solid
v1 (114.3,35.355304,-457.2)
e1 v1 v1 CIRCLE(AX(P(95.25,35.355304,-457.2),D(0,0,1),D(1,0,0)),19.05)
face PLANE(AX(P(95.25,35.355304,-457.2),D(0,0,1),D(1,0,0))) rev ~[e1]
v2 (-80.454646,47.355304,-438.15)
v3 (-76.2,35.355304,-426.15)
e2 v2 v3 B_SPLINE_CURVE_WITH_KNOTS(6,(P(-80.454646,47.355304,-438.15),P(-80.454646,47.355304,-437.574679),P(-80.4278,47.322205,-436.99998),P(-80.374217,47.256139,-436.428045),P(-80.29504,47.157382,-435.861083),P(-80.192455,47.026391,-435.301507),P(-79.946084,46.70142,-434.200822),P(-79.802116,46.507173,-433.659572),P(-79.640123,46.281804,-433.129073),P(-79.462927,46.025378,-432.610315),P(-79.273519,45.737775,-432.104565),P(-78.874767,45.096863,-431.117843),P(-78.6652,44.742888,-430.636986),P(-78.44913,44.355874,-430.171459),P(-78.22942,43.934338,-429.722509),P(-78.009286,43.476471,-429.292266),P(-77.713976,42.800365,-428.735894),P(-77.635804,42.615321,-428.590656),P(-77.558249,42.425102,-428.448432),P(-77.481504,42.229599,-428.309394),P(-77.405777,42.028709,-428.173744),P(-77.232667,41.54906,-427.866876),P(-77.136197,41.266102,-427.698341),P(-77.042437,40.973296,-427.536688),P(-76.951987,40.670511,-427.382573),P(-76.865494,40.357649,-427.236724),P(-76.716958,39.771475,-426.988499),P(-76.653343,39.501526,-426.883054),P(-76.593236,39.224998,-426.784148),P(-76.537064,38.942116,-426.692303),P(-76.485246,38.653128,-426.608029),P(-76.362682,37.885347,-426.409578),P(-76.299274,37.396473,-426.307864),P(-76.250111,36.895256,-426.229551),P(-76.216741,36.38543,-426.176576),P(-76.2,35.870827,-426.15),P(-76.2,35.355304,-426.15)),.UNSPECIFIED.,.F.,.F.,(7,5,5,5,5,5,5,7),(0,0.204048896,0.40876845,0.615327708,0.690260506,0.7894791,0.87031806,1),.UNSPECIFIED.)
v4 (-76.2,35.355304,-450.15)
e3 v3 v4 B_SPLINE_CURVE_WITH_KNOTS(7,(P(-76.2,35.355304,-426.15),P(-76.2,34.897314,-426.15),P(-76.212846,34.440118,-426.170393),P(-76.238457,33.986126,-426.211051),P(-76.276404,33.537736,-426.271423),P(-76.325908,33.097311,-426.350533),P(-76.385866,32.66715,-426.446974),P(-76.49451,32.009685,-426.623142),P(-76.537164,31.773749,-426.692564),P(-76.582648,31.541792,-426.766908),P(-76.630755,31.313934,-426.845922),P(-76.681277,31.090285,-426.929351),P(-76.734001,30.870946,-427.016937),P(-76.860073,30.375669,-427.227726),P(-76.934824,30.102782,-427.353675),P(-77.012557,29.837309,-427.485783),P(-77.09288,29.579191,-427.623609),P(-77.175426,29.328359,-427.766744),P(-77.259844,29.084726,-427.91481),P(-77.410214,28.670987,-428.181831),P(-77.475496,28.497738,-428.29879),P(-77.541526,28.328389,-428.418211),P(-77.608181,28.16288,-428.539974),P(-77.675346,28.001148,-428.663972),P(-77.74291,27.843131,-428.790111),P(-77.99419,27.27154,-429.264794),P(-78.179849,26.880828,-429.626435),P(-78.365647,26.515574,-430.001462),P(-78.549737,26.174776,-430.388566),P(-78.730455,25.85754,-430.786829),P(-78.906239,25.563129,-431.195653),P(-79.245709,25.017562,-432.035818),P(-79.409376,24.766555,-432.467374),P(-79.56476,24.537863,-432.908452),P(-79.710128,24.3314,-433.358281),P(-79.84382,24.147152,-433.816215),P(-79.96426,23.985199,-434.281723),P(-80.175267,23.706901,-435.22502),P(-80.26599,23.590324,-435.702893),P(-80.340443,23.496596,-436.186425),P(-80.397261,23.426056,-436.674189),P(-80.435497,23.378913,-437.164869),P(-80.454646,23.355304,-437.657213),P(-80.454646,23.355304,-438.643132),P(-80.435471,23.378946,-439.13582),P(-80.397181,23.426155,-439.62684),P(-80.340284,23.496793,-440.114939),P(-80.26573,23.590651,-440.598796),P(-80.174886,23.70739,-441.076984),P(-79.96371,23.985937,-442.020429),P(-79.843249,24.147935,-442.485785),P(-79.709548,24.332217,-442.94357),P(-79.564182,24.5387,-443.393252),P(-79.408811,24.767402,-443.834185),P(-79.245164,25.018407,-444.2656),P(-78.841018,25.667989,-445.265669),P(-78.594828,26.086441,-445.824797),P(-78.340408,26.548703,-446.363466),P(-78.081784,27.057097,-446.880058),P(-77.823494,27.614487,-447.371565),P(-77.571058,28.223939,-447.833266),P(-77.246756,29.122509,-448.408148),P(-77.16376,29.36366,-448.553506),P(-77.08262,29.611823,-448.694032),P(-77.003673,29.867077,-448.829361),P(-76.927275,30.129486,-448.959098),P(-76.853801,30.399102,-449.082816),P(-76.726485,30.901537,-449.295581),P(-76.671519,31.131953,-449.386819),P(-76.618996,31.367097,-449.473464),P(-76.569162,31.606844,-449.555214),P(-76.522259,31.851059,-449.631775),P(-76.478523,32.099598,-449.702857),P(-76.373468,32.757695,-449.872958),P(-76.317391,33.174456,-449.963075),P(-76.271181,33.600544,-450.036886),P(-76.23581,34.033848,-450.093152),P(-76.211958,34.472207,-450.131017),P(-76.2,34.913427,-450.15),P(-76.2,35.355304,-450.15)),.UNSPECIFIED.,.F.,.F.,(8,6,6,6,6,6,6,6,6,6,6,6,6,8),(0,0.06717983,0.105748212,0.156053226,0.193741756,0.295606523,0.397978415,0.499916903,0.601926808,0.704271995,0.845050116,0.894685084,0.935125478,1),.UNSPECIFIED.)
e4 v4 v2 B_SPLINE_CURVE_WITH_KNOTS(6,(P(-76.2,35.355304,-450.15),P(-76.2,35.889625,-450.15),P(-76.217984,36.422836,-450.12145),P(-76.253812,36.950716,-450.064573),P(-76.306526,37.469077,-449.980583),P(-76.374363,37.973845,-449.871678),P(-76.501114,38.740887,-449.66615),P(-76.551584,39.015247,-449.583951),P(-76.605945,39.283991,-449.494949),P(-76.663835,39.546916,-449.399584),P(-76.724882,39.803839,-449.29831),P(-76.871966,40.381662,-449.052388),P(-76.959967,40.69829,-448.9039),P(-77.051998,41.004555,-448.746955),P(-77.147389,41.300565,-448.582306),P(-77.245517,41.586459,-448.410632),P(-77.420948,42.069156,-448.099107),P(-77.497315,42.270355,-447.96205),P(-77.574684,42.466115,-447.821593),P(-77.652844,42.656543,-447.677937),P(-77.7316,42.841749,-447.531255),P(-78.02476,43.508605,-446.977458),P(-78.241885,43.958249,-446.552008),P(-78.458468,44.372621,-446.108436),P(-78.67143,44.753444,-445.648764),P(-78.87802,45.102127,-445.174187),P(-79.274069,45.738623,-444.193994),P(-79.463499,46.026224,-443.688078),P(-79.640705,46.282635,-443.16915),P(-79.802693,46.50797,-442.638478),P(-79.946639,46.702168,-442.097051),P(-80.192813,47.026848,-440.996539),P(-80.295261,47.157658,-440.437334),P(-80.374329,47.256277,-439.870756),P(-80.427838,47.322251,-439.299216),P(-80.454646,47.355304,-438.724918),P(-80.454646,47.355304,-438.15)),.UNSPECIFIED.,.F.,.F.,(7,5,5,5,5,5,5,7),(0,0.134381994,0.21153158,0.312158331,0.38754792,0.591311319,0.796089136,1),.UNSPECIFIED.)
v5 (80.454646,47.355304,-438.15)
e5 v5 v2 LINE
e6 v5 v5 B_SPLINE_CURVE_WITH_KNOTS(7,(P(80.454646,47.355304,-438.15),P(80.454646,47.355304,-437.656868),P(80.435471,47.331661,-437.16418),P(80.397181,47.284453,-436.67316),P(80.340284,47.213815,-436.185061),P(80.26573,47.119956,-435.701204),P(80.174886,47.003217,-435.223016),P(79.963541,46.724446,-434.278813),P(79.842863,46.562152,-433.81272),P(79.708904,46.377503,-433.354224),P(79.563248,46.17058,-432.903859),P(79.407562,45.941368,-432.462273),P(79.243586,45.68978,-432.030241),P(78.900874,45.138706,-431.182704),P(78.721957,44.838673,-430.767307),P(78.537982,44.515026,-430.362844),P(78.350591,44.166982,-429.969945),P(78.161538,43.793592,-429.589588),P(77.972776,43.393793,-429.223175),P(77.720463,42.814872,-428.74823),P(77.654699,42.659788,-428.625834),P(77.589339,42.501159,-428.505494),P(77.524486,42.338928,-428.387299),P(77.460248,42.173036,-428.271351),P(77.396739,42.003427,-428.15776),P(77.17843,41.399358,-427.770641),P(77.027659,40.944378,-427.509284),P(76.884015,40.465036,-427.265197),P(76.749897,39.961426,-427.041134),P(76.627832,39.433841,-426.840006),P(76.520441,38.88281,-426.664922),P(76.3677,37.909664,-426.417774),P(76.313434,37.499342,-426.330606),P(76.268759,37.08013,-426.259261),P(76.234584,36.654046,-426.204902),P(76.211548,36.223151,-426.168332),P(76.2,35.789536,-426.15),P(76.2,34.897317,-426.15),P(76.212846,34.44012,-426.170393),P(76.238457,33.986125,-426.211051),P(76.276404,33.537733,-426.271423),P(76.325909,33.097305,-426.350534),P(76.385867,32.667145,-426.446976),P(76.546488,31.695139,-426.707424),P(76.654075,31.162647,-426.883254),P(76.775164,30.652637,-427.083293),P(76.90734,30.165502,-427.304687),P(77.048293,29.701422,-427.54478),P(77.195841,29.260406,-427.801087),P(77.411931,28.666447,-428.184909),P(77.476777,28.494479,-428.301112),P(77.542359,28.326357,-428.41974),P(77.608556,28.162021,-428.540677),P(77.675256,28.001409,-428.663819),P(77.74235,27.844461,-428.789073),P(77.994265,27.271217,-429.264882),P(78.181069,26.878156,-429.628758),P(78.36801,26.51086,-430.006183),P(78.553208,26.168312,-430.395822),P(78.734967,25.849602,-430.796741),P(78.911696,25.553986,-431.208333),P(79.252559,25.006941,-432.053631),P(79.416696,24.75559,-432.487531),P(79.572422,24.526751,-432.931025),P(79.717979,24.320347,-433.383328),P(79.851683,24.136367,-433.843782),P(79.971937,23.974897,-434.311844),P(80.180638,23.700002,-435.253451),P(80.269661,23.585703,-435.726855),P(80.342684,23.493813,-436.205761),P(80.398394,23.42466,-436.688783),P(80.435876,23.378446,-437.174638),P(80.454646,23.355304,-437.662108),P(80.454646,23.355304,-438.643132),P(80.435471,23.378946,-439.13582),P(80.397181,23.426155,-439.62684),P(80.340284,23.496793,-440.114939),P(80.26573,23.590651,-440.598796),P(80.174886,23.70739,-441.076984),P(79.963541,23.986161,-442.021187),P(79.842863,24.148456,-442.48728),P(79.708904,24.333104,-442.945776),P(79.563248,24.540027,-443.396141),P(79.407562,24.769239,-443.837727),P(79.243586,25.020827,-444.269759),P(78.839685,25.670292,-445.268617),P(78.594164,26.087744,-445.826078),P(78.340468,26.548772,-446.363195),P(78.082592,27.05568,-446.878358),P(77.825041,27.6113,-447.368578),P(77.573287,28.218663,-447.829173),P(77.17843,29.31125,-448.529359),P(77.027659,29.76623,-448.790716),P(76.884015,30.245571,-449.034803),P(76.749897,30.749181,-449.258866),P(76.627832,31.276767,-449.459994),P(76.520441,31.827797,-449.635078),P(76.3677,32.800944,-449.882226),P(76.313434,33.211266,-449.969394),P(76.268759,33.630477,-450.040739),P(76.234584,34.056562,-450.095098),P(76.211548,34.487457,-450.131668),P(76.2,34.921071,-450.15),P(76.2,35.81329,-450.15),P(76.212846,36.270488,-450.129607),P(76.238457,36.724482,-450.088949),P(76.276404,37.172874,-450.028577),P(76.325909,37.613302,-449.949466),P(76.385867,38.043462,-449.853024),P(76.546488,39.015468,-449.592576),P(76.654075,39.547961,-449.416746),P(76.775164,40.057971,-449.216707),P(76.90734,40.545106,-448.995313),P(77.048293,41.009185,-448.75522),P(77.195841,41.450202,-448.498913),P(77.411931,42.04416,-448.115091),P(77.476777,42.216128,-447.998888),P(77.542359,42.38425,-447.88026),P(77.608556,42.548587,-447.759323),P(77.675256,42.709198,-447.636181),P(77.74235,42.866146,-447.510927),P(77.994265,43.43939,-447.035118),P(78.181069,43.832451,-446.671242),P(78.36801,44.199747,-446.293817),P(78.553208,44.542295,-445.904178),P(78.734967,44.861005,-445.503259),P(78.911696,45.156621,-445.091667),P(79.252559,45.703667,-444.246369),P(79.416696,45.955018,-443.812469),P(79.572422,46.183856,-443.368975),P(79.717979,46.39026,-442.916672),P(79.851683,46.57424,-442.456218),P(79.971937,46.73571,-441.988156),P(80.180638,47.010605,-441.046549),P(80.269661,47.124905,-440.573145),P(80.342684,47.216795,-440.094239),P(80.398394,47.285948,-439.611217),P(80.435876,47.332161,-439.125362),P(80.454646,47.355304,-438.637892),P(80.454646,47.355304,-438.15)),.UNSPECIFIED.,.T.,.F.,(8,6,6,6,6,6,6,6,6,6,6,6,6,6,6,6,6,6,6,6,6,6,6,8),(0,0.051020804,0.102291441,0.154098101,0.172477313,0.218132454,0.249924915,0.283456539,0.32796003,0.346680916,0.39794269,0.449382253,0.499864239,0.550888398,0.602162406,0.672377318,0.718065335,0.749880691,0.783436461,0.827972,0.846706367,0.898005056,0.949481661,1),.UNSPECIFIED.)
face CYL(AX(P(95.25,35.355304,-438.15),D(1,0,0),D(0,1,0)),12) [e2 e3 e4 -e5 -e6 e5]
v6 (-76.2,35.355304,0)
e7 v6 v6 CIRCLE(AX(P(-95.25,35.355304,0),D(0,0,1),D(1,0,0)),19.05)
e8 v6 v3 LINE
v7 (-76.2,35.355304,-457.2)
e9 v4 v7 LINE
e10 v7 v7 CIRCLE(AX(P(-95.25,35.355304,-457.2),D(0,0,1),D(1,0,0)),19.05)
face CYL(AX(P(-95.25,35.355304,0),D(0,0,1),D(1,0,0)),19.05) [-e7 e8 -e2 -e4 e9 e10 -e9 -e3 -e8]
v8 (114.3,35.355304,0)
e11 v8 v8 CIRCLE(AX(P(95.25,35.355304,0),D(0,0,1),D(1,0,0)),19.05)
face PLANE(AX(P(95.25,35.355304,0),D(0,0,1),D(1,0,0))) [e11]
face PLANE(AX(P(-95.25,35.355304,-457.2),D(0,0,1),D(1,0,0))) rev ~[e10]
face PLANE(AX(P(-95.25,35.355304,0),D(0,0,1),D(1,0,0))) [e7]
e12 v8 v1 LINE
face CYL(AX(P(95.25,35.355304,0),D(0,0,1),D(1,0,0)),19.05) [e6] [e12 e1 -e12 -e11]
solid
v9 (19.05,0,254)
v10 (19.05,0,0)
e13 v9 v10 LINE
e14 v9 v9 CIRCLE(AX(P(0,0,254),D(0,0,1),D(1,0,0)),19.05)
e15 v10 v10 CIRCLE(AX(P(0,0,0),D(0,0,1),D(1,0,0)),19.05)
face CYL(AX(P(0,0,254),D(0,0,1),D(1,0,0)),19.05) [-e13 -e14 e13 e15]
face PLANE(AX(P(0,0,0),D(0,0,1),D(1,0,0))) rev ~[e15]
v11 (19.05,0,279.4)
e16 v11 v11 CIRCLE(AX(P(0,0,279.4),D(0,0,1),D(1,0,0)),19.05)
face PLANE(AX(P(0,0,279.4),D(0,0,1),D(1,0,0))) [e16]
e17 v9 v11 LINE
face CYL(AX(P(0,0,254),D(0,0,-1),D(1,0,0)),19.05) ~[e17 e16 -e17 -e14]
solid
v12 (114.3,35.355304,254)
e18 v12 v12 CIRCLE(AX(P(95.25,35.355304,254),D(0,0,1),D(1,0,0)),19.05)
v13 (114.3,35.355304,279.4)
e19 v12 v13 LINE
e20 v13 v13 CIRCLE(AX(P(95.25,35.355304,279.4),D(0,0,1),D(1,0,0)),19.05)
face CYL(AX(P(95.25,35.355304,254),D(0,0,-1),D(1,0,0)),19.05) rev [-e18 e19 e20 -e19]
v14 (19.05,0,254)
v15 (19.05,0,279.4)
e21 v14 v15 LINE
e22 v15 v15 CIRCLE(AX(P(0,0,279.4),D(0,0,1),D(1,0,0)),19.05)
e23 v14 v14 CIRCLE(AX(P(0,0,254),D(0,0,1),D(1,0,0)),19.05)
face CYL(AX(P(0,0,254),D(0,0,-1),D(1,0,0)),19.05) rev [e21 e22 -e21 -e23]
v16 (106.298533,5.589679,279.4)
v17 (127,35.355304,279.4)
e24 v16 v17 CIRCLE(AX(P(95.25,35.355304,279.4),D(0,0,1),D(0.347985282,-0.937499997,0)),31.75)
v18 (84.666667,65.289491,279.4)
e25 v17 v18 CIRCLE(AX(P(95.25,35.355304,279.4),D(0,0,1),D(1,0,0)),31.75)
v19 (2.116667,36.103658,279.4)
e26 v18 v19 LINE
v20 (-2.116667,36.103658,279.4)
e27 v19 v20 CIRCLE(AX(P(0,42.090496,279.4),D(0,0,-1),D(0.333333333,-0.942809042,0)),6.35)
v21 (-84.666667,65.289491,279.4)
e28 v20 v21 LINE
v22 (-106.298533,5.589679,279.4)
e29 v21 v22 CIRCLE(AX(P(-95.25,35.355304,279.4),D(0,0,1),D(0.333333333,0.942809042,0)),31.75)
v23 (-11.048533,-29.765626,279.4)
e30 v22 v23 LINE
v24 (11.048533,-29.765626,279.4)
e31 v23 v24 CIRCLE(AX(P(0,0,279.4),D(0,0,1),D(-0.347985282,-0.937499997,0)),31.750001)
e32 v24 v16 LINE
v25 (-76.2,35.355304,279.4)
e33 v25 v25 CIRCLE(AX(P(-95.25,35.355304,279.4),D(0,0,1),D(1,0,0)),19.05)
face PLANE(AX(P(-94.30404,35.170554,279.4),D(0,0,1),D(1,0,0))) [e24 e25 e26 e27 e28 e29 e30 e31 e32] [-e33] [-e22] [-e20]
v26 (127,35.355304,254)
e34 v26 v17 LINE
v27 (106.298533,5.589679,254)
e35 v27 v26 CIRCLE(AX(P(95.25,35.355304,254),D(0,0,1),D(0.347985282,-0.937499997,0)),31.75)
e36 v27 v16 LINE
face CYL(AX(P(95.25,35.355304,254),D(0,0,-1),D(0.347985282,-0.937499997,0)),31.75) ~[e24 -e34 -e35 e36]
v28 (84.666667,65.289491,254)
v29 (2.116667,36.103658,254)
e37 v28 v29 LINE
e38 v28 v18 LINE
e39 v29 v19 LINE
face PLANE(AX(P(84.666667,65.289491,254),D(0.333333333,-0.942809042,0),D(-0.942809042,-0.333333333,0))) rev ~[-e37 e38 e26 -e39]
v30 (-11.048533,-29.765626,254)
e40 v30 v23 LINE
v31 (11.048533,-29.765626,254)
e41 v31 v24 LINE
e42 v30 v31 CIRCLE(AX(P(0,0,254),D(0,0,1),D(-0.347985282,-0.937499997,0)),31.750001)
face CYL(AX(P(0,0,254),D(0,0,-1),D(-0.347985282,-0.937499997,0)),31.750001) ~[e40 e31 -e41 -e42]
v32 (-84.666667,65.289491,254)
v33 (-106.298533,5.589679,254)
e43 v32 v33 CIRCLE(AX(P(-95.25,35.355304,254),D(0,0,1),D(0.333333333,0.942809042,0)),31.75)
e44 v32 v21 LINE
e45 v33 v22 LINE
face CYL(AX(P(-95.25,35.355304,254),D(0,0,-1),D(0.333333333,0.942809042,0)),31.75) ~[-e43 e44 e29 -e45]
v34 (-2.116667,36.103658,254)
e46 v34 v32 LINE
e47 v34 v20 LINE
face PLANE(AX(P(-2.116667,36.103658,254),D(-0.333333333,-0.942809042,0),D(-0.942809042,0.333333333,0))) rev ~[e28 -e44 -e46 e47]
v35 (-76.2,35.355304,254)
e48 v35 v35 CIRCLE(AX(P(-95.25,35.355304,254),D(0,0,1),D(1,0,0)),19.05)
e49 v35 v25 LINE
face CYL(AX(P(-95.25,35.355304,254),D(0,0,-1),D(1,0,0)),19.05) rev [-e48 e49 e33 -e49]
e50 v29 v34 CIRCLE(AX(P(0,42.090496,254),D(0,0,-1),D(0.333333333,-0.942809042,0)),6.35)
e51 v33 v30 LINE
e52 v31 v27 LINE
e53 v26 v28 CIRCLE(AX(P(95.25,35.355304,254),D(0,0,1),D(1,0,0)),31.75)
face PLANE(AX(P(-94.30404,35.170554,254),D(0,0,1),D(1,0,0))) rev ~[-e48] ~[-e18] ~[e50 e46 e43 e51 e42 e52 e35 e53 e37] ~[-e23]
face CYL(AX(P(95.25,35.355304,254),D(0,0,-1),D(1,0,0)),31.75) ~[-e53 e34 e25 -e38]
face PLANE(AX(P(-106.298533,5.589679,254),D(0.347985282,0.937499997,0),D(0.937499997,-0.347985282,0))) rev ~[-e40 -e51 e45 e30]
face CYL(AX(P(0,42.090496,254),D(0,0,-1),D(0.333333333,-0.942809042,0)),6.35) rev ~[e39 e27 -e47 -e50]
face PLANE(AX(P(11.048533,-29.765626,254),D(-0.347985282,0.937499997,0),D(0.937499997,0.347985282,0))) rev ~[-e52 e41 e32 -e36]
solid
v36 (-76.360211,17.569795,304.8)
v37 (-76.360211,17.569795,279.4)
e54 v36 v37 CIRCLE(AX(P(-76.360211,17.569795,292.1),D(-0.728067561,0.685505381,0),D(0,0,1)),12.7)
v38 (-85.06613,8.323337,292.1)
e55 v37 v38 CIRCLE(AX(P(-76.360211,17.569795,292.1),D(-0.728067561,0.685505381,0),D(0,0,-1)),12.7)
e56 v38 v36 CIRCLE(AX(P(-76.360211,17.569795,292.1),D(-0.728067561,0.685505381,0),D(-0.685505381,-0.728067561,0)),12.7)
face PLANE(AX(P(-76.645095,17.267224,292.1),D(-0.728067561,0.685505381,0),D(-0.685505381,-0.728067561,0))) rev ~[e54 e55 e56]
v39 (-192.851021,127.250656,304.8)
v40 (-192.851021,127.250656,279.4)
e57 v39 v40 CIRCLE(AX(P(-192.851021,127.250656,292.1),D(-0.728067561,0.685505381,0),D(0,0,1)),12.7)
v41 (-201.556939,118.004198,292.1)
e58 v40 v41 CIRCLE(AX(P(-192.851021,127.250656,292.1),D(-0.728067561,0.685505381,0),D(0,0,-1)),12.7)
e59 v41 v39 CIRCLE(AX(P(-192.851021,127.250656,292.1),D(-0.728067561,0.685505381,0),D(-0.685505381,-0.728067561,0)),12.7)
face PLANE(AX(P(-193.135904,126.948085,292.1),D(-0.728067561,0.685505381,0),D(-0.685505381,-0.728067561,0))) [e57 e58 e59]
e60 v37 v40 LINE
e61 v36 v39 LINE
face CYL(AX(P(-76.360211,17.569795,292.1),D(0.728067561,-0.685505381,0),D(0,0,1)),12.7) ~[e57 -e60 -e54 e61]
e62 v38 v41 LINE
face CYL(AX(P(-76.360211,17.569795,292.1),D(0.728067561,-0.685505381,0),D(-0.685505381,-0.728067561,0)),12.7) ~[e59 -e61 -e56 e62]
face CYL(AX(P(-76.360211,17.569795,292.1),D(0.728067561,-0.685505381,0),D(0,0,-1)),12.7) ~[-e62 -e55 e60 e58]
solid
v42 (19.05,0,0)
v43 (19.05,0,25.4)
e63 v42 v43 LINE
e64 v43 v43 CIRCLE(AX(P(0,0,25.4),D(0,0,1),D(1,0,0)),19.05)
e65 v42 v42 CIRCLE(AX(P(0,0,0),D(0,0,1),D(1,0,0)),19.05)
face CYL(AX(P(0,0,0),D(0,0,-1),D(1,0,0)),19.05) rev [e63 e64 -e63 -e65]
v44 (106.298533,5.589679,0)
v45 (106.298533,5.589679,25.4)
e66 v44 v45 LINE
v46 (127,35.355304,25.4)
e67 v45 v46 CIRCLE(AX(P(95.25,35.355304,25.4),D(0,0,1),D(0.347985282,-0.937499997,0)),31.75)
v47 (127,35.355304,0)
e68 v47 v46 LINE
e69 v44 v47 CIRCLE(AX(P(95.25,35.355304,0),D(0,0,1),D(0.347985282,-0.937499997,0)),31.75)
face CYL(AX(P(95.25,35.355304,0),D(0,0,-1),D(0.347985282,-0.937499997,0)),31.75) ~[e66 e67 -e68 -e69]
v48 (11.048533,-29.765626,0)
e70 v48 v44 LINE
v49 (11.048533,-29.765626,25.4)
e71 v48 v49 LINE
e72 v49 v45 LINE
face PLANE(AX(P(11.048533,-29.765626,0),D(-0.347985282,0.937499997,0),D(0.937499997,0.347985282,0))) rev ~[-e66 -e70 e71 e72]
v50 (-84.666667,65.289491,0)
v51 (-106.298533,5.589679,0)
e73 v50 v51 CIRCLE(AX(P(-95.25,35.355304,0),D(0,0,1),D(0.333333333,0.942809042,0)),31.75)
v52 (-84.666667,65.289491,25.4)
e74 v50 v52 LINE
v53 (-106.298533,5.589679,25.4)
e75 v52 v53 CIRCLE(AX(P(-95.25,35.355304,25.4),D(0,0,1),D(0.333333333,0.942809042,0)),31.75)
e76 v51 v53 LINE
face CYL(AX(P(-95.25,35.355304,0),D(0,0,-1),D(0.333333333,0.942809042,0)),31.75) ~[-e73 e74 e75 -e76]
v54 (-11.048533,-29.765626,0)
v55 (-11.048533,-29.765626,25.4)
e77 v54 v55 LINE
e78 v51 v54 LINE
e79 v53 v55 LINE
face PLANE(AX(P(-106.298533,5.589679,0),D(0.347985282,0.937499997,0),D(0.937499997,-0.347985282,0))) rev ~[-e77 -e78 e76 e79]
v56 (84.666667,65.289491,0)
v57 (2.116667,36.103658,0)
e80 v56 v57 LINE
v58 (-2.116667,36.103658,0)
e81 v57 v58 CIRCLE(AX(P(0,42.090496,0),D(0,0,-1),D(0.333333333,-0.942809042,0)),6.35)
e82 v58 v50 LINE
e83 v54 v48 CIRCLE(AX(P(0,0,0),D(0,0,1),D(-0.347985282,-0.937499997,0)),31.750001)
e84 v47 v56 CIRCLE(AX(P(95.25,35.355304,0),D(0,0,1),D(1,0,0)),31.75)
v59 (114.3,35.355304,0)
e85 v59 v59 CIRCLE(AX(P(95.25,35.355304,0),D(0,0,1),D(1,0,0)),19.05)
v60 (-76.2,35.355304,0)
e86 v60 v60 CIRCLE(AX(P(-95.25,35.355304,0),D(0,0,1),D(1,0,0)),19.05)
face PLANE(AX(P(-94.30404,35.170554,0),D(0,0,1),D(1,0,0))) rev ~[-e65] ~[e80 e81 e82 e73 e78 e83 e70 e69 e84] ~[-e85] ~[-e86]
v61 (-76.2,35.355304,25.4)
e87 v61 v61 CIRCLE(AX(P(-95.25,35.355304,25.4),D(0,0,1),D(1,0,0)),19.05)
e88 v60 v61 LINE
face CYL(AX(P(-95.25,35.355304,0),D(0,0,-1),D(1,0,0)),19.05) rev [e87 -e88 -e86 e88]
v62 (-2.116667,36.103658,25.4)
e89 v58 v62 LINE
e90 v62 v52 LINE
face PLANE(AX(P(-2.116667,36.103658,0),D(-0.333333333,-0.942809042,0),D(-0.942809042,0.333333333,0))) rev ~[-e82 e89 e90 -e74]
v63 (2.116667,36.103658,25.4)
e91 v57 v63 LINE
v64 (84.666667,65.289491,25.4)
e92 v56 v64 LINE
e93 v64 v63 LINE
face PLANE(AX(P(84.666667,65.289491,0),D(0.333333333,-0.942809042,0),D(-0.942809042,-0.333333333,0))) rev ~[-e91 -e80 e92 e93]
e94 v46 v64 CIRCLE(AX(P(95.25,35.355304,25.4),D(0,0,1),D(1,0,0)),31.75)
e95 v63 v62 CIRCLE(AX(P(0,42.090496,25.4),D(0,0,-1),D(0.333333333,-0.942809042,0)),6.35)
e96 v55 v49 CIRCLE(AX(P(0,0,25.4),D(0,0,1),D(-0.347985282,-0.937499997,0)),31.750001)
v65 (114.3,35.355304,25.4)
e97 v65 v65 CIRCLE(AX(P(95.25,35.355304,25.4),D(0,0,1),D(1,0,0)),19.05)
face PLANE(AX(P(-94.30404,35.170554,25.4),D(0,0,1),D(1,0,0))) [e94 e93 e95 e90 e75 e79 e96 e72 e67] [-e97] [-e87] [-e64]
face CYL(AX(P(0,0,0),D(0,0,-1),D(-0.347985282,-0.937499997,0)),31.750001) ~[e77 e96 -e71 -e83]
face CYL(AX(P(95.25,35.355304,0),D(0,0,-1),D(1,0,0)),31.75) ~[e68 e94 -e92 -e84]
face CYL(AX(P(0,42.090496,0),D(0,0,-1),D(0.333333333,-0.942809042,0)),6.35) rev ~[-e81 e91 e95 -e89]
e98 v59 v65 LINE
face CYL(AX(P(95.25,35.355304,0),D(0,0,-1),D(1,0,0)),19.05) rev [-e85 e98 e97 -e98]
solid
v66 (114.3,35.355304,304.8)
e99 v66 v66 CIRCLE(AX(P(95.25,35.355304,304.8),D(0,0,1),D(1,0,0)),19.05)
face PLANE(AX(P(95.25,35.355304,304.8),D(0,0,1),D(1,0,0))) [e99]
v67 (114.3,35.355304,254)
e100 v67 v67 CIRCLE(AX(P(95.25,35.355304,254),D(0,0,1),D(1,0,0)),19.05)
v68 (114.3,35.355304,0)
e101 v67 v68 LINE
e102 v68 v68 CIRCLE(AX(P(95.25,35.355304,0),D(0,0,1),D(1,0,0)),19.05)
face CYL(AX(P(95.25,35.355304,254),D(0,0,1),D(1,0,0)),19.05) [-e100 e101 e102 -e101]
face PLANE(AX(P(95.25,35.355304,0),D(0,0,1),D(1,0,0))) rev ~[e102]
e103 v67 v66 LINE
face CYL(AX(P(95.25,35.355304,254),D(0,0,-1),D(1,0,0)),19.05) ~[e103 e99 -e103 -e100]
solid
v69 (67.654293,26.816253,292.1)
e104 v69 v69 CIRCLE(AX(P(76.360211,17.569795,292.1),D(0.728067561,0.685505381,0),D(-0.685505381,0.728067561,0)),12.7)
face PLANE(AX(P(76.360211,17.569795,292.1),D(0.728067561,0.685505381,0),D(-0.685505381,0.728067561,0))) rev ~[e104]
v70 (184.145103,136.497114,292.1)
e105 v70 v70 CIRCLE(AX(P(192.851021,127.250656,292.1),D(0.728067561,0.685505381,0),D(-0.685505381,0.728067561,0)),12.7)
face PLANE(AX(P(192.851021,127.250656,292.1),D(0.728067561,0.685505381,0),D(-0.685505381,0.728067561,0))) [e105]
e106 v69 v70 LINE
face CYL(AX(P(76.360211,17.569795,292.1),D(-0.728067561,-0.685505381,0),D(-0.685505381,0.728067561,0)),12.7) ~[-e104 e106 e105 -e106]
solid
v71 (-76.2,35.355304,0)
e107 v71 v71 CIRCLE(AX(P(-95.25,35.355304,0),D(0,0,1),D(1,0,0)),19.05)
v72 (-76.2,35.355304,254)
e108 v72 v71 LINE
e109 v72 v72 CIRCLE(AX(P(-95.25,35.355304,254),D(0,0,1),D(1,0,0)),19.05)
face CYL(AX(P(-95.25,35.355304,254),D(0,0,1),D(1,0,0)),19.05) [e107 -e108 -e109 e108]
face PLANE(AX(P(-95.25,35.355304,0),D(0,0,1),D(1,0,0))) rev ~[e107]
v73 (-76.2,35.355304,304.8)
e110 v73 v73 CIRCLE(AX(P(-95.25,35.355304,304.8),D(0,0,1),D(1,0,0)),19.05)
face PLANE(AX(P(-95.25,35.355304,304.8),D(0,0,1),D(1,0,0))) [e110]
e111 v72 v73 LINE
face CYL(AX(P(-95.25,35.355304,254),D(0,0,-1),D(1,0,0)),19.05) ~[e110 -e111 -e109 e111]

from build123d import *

# Parameters (mm, degrees)
F0_R          = 19.05
F3_DEPTH      = 25.4
F2_R          = 19.05
F4_DEPTH      = 25.4
F5_DEPTH      = 457.2
F6_DEPTH      = 254
F6_DEPTH_BACK = 50.8
F7_DEPTH      = 254
F7_DEPTH_BACK = 25.4
F11_R         = 12
F12_DEPTH     = 180
F18_R         = 12.7
F19_DEPTH     = 160
F21_DEPTH     = 160


with BuildPart() as f3:
    # F0 (on Top) → F3 (new body)
    with BuildSketch(Plane.XY):
        with BuildLine():
            ThreePointArc((-106.2985327043, 5.5896788142), (-77.121685315, 9.2894887986), (-63.5, 35.355303704))
            ThreePointArc((-63.5, 35.355303704), (-69.3262335555, 53.6861747507), (-84.6666666667, 65.2894907742))
            ThreePointArc((-84.6666666667, 65.2894907742), (-125.1008122106, 46.17156509), (-106.2985327043, 5.5896788142))
        make_face()
        with Locations((-95.25, 35.355303704)):
            Circle(F0_R, mode=Mode.SUBTRACT)
        with BuildLine():
            ThreePointArc((-84.6666666667, 65.2894907742), (-69.3262335555, 53.6861747507), (-63.5, 35.355303704))
            ThreePointArc((-63.5, 35.355303704), (-77.121685315, 9.2894887986), (-106.2985327043, 5.5896788142))
            Line((-106.2985327043, 5.5896788142), (-11.048533057, -29.7656258398))
            ThreePointArc((-11.048533057, -29.7656258398), (-18.1283152636, 26.0658157373), (31.7500010133, 0))
            ThreePointArc((31.7500010133, 0), (26.0658157373, -18.1283152636), (11.048533057, -29.7656258398))
            Line((11.048533057, -29.7656258398), (106.2985327043, 5.5896788142))
            ThreePointArc((106.2985327043, 5.5896788142), (65.3991877894, 24.539042318), (84.6666666667, 65.2894907742))
            Line((84.6666666667, 65.2894907742), (2.1166666667, 36.1036583807))
            ThreePointArc((2.1166666667, 36.1036583807), (0, 35.7404957948), (-2.1166666667, 36.1036583807))
            Line((-2.1166666667, 36.1036583807), (-84.6666666667, 65.2894907742))
        make_face()
        with BuildLine():
            ThreePointArc((31.7500010133, 0), (-18.1283152636, 26.0658157373), (-11.048533057, -29.7656258398))
            ThreePointArc((-11.048533057, -29.7656258398), (0, -31.7500010133), (11.048533057, -29.7656258398))
            ThreePointArc((11.048533057, -29.7656258398), (26.0658157373, -18.1283152636), (31.7500010133, 0))
        make_face()
        Circle(F0_R, mode=Mode.SUBTRACT)
        with BuildLine():
            ThreePointArc((127, 35.355303704), (113.5808710468, 61.2790701484), (84.6666666667, 65.2894907742))
            ThreePointArc((84.6666666667, 65.2894907742), (65.3991877894, 24.539042318), (106.2985327043, 5.5896788142))
            ThreePointArc((106.2985327043, 5.5896788142), (121.3158149054, 17.226989019), (127, 35.355303704))
        make_face()
        with Locations((95.25, 35.355303704)):
            Circle(F0_R, mode=Mode.SUBTRACT)
    extrude(amount=F3_DEPTH)


with BuildPart() as f4:
    # F2 (on offset) → F4 (new body)
    with BuildSketch(Plane.XY.offset(254)):
        with BuildLine():
            ThreePointArc((-106.2985327043, 5.5896788142), (-77.121685315, 9.2894887986), (-63.5, 35.355303704))
            ThreePointArc((-63.5, 35.355303704), (-69.3262335555, 53.6861747507), (-84.6666666667, 65.2894907742))
            ThreePointArc((-84.6666666667, 65.2894907742), (-125.1008122106, 46.17156509), (-106.2985327043, 5.5896788142))
        make_face()
        with Locations((-95.25, 35.355303704)):
            Circle(F2_R, mode=Mode.SUBTRACT)
        with BuildLine():
            ThreePointArc((-84.6666666667, 65.2894907742), (-69.3262335555, 53.6861747507), (-63.5, 35.355303704))
            ThreePointArc((-63.5, 35.355303704), (-77.121685315, 9.2894887986), (-106.2985327043, 5.5896788142))
            Line((-106.2985327043, 5.5896788142), (-11.048533057, -29.7656258398))
            ThreePointArc((-11.048533057, -29.7656258398), (-18.1283152636, 26.0658157373), (31.7500010133, 0))
            ThreePointArc((31.7500010133, 0), (26.0658157373, -18.1283152636), (11.048533057, -29.7656258398))
            Line((11.048533057, -29.7656258398), (106.2985327043, 5.5896788142))
            ThreePointArc((106.2985327043, 5.5896788142), (65.3991877894, 24.539042318), (84.6666666667, 65.2894907742))
            Line((84.6666666667, 65.2894907742), (2.1166666667, 36.1036583807))
            ThreePointArc((2.1166666667, 36.1036583807), (0, 35.7404957948), (-2.1166666667, 36.1036583807))
            Line((-2.1166666667, 36.1036583807), (-84.6666666667, 65.2894907742))
        make_face()
        with BuildLine():
            ThreePointArc((31.7500010133, 0), (-18.1283152636, 26.0658157373), (-11.048533057, -29.7656258398))
            ThreePointArc((-11.048533057, -29.7656258398), (0, -31.7500010133), (11.048533057, -29.7656258398))
            ThreePointArc((11.048533057, -29.7656258398), (26.0658157373, -18.1283152636), (31.7500010133, 0))
        make_face()
        Circle(F2_R, mode=Mode.SUBTRACT)
        with BuildLine():
            ThreePointArc((127, 35.355303704), (113.5808710468, 61.2790701484), (84.6666666667, 65.2894907742))
            ThreePointArc((84.6666666667, 65.2894907742), (65.3991877894, 24.539042318), (106.2985327043, 5.5896788142))
            ThreePointArc((106.2985327043, 5.5896788142), (121.3158149054, 17.226989019), (127, 35.355303704))
        make_face()
        with Locations((95.25, 35.355303704)):
            Circle(F2_R, mode=Mode.SUBTRACT)
    extrude(amount=F4_DEPTH)


with BuildPart() as f5:
    # F0 (on Top) → F5 (new body)
    with BuildSketch(Plane.XY):
        with Locations((-95.25, 35.355303704)):
            Circle(F0_R)
    extrude(amount=-F5_DEPTH)



with BuildPart() as f5b:
    # F0 (on Top) → F5, piece 2 (new body)
    with BuildSketch(Plane.XY):
        with Locations((95.25, 35.355303704)):
            Circle(F0_R)
    extrude(amount=-F5_DEPTH)


with BuildPart() as f6:
    # F2 (on offset) → F6 (new body, two sides)
    with BuildSketch(Plane.XY.offset(254)) as f6_sk:
        with Locations((-95.25, 35.355303704)):
            Circle(F2_R)
    extrude(amount=-F6_DEPTH)
    extrude(f6_sk.sketch, amount=F6_DEPTH_BACK)


with BuildPart() as f6b:
    # F2 (on offset) → F6, piece 2 (new body, two sides)
    with BuildSketch(Plane.XY.offset(254)) as f6_2_sk:
        with Locations((95.25, 35.355303704)):
            Circle(F2_R)
    extrude(amount=-F6_DEPTH)
    extrude(f6_2_sk.sketch, amount=F6_DEPTH_BACK)


with BuildPart() as f7:
    # F2 (on offset) → F7 (new body, two sides)
    with BuildSketch(Plane.XY.offset(254)) as f7_sk:
        Circle(F2_R)
    extrude(amount=-F7_DEPTH)
    extrude(f7_sk.sketch, amount=F7_DEPTH_BACK)


with BuildPart() as f5_1:
    add(f5.part)

    add(f5b.part)  # F12 merges F5b
    # F11 (on face) → F12 (join)
    with BuildSketch(Plane.YZ.offset(95.25)):
        with Locations((35.355303704, -438.15)):
            Circle(F11_R)
    extrude(amount=-F12_DEPTH)


with BuildPart() as f19:
    # F18 (on offset) → F19 (new body)
    with BuildSketch(Plane(origin=(49.2461853383, 46.3672973092, 0), x_dir=(-0.6855053809, 0.7280675605, 0), z_dir=(0.7280675605, 0.6855053809, 0))):
        with Locations((-39.5533378152, 292.1)):
            Circle(F18_R)
    extrude(amount=F19_DEPTH)


with BuildPart() as f21:
    # F20 (on offset) → F21 (new body)
    with BuildSketch(Plane(origin=(-49.2461853383, 46.3672973092, 0), x_dir=(-0.6855053809, -0.7280675605, 0), z_dir=(-0.7280675605, 0.6855053809, 0))):
        with BuildLine():
            ThreePointArc((52.2533378152, 292.1), (48.5335939363, 301.0802561211), (39.5533378152, 304.8))
            ThreePointArc((39.5533378152, 304.8), (26.8533378152, 292.1), (39.5533378152, 279.4))
            ThreePointArc((39.5533378152, 279.4), (48.5335939363, 283.1197438789), (52.2533378152, 292.1))
        make_face()
    extrude(amount=F21_DEPTH)


solid = Compound([f3.part, f4.part, f6.part, f6b.part, f7.part, f5_1.part, f19.part, f21.part])
